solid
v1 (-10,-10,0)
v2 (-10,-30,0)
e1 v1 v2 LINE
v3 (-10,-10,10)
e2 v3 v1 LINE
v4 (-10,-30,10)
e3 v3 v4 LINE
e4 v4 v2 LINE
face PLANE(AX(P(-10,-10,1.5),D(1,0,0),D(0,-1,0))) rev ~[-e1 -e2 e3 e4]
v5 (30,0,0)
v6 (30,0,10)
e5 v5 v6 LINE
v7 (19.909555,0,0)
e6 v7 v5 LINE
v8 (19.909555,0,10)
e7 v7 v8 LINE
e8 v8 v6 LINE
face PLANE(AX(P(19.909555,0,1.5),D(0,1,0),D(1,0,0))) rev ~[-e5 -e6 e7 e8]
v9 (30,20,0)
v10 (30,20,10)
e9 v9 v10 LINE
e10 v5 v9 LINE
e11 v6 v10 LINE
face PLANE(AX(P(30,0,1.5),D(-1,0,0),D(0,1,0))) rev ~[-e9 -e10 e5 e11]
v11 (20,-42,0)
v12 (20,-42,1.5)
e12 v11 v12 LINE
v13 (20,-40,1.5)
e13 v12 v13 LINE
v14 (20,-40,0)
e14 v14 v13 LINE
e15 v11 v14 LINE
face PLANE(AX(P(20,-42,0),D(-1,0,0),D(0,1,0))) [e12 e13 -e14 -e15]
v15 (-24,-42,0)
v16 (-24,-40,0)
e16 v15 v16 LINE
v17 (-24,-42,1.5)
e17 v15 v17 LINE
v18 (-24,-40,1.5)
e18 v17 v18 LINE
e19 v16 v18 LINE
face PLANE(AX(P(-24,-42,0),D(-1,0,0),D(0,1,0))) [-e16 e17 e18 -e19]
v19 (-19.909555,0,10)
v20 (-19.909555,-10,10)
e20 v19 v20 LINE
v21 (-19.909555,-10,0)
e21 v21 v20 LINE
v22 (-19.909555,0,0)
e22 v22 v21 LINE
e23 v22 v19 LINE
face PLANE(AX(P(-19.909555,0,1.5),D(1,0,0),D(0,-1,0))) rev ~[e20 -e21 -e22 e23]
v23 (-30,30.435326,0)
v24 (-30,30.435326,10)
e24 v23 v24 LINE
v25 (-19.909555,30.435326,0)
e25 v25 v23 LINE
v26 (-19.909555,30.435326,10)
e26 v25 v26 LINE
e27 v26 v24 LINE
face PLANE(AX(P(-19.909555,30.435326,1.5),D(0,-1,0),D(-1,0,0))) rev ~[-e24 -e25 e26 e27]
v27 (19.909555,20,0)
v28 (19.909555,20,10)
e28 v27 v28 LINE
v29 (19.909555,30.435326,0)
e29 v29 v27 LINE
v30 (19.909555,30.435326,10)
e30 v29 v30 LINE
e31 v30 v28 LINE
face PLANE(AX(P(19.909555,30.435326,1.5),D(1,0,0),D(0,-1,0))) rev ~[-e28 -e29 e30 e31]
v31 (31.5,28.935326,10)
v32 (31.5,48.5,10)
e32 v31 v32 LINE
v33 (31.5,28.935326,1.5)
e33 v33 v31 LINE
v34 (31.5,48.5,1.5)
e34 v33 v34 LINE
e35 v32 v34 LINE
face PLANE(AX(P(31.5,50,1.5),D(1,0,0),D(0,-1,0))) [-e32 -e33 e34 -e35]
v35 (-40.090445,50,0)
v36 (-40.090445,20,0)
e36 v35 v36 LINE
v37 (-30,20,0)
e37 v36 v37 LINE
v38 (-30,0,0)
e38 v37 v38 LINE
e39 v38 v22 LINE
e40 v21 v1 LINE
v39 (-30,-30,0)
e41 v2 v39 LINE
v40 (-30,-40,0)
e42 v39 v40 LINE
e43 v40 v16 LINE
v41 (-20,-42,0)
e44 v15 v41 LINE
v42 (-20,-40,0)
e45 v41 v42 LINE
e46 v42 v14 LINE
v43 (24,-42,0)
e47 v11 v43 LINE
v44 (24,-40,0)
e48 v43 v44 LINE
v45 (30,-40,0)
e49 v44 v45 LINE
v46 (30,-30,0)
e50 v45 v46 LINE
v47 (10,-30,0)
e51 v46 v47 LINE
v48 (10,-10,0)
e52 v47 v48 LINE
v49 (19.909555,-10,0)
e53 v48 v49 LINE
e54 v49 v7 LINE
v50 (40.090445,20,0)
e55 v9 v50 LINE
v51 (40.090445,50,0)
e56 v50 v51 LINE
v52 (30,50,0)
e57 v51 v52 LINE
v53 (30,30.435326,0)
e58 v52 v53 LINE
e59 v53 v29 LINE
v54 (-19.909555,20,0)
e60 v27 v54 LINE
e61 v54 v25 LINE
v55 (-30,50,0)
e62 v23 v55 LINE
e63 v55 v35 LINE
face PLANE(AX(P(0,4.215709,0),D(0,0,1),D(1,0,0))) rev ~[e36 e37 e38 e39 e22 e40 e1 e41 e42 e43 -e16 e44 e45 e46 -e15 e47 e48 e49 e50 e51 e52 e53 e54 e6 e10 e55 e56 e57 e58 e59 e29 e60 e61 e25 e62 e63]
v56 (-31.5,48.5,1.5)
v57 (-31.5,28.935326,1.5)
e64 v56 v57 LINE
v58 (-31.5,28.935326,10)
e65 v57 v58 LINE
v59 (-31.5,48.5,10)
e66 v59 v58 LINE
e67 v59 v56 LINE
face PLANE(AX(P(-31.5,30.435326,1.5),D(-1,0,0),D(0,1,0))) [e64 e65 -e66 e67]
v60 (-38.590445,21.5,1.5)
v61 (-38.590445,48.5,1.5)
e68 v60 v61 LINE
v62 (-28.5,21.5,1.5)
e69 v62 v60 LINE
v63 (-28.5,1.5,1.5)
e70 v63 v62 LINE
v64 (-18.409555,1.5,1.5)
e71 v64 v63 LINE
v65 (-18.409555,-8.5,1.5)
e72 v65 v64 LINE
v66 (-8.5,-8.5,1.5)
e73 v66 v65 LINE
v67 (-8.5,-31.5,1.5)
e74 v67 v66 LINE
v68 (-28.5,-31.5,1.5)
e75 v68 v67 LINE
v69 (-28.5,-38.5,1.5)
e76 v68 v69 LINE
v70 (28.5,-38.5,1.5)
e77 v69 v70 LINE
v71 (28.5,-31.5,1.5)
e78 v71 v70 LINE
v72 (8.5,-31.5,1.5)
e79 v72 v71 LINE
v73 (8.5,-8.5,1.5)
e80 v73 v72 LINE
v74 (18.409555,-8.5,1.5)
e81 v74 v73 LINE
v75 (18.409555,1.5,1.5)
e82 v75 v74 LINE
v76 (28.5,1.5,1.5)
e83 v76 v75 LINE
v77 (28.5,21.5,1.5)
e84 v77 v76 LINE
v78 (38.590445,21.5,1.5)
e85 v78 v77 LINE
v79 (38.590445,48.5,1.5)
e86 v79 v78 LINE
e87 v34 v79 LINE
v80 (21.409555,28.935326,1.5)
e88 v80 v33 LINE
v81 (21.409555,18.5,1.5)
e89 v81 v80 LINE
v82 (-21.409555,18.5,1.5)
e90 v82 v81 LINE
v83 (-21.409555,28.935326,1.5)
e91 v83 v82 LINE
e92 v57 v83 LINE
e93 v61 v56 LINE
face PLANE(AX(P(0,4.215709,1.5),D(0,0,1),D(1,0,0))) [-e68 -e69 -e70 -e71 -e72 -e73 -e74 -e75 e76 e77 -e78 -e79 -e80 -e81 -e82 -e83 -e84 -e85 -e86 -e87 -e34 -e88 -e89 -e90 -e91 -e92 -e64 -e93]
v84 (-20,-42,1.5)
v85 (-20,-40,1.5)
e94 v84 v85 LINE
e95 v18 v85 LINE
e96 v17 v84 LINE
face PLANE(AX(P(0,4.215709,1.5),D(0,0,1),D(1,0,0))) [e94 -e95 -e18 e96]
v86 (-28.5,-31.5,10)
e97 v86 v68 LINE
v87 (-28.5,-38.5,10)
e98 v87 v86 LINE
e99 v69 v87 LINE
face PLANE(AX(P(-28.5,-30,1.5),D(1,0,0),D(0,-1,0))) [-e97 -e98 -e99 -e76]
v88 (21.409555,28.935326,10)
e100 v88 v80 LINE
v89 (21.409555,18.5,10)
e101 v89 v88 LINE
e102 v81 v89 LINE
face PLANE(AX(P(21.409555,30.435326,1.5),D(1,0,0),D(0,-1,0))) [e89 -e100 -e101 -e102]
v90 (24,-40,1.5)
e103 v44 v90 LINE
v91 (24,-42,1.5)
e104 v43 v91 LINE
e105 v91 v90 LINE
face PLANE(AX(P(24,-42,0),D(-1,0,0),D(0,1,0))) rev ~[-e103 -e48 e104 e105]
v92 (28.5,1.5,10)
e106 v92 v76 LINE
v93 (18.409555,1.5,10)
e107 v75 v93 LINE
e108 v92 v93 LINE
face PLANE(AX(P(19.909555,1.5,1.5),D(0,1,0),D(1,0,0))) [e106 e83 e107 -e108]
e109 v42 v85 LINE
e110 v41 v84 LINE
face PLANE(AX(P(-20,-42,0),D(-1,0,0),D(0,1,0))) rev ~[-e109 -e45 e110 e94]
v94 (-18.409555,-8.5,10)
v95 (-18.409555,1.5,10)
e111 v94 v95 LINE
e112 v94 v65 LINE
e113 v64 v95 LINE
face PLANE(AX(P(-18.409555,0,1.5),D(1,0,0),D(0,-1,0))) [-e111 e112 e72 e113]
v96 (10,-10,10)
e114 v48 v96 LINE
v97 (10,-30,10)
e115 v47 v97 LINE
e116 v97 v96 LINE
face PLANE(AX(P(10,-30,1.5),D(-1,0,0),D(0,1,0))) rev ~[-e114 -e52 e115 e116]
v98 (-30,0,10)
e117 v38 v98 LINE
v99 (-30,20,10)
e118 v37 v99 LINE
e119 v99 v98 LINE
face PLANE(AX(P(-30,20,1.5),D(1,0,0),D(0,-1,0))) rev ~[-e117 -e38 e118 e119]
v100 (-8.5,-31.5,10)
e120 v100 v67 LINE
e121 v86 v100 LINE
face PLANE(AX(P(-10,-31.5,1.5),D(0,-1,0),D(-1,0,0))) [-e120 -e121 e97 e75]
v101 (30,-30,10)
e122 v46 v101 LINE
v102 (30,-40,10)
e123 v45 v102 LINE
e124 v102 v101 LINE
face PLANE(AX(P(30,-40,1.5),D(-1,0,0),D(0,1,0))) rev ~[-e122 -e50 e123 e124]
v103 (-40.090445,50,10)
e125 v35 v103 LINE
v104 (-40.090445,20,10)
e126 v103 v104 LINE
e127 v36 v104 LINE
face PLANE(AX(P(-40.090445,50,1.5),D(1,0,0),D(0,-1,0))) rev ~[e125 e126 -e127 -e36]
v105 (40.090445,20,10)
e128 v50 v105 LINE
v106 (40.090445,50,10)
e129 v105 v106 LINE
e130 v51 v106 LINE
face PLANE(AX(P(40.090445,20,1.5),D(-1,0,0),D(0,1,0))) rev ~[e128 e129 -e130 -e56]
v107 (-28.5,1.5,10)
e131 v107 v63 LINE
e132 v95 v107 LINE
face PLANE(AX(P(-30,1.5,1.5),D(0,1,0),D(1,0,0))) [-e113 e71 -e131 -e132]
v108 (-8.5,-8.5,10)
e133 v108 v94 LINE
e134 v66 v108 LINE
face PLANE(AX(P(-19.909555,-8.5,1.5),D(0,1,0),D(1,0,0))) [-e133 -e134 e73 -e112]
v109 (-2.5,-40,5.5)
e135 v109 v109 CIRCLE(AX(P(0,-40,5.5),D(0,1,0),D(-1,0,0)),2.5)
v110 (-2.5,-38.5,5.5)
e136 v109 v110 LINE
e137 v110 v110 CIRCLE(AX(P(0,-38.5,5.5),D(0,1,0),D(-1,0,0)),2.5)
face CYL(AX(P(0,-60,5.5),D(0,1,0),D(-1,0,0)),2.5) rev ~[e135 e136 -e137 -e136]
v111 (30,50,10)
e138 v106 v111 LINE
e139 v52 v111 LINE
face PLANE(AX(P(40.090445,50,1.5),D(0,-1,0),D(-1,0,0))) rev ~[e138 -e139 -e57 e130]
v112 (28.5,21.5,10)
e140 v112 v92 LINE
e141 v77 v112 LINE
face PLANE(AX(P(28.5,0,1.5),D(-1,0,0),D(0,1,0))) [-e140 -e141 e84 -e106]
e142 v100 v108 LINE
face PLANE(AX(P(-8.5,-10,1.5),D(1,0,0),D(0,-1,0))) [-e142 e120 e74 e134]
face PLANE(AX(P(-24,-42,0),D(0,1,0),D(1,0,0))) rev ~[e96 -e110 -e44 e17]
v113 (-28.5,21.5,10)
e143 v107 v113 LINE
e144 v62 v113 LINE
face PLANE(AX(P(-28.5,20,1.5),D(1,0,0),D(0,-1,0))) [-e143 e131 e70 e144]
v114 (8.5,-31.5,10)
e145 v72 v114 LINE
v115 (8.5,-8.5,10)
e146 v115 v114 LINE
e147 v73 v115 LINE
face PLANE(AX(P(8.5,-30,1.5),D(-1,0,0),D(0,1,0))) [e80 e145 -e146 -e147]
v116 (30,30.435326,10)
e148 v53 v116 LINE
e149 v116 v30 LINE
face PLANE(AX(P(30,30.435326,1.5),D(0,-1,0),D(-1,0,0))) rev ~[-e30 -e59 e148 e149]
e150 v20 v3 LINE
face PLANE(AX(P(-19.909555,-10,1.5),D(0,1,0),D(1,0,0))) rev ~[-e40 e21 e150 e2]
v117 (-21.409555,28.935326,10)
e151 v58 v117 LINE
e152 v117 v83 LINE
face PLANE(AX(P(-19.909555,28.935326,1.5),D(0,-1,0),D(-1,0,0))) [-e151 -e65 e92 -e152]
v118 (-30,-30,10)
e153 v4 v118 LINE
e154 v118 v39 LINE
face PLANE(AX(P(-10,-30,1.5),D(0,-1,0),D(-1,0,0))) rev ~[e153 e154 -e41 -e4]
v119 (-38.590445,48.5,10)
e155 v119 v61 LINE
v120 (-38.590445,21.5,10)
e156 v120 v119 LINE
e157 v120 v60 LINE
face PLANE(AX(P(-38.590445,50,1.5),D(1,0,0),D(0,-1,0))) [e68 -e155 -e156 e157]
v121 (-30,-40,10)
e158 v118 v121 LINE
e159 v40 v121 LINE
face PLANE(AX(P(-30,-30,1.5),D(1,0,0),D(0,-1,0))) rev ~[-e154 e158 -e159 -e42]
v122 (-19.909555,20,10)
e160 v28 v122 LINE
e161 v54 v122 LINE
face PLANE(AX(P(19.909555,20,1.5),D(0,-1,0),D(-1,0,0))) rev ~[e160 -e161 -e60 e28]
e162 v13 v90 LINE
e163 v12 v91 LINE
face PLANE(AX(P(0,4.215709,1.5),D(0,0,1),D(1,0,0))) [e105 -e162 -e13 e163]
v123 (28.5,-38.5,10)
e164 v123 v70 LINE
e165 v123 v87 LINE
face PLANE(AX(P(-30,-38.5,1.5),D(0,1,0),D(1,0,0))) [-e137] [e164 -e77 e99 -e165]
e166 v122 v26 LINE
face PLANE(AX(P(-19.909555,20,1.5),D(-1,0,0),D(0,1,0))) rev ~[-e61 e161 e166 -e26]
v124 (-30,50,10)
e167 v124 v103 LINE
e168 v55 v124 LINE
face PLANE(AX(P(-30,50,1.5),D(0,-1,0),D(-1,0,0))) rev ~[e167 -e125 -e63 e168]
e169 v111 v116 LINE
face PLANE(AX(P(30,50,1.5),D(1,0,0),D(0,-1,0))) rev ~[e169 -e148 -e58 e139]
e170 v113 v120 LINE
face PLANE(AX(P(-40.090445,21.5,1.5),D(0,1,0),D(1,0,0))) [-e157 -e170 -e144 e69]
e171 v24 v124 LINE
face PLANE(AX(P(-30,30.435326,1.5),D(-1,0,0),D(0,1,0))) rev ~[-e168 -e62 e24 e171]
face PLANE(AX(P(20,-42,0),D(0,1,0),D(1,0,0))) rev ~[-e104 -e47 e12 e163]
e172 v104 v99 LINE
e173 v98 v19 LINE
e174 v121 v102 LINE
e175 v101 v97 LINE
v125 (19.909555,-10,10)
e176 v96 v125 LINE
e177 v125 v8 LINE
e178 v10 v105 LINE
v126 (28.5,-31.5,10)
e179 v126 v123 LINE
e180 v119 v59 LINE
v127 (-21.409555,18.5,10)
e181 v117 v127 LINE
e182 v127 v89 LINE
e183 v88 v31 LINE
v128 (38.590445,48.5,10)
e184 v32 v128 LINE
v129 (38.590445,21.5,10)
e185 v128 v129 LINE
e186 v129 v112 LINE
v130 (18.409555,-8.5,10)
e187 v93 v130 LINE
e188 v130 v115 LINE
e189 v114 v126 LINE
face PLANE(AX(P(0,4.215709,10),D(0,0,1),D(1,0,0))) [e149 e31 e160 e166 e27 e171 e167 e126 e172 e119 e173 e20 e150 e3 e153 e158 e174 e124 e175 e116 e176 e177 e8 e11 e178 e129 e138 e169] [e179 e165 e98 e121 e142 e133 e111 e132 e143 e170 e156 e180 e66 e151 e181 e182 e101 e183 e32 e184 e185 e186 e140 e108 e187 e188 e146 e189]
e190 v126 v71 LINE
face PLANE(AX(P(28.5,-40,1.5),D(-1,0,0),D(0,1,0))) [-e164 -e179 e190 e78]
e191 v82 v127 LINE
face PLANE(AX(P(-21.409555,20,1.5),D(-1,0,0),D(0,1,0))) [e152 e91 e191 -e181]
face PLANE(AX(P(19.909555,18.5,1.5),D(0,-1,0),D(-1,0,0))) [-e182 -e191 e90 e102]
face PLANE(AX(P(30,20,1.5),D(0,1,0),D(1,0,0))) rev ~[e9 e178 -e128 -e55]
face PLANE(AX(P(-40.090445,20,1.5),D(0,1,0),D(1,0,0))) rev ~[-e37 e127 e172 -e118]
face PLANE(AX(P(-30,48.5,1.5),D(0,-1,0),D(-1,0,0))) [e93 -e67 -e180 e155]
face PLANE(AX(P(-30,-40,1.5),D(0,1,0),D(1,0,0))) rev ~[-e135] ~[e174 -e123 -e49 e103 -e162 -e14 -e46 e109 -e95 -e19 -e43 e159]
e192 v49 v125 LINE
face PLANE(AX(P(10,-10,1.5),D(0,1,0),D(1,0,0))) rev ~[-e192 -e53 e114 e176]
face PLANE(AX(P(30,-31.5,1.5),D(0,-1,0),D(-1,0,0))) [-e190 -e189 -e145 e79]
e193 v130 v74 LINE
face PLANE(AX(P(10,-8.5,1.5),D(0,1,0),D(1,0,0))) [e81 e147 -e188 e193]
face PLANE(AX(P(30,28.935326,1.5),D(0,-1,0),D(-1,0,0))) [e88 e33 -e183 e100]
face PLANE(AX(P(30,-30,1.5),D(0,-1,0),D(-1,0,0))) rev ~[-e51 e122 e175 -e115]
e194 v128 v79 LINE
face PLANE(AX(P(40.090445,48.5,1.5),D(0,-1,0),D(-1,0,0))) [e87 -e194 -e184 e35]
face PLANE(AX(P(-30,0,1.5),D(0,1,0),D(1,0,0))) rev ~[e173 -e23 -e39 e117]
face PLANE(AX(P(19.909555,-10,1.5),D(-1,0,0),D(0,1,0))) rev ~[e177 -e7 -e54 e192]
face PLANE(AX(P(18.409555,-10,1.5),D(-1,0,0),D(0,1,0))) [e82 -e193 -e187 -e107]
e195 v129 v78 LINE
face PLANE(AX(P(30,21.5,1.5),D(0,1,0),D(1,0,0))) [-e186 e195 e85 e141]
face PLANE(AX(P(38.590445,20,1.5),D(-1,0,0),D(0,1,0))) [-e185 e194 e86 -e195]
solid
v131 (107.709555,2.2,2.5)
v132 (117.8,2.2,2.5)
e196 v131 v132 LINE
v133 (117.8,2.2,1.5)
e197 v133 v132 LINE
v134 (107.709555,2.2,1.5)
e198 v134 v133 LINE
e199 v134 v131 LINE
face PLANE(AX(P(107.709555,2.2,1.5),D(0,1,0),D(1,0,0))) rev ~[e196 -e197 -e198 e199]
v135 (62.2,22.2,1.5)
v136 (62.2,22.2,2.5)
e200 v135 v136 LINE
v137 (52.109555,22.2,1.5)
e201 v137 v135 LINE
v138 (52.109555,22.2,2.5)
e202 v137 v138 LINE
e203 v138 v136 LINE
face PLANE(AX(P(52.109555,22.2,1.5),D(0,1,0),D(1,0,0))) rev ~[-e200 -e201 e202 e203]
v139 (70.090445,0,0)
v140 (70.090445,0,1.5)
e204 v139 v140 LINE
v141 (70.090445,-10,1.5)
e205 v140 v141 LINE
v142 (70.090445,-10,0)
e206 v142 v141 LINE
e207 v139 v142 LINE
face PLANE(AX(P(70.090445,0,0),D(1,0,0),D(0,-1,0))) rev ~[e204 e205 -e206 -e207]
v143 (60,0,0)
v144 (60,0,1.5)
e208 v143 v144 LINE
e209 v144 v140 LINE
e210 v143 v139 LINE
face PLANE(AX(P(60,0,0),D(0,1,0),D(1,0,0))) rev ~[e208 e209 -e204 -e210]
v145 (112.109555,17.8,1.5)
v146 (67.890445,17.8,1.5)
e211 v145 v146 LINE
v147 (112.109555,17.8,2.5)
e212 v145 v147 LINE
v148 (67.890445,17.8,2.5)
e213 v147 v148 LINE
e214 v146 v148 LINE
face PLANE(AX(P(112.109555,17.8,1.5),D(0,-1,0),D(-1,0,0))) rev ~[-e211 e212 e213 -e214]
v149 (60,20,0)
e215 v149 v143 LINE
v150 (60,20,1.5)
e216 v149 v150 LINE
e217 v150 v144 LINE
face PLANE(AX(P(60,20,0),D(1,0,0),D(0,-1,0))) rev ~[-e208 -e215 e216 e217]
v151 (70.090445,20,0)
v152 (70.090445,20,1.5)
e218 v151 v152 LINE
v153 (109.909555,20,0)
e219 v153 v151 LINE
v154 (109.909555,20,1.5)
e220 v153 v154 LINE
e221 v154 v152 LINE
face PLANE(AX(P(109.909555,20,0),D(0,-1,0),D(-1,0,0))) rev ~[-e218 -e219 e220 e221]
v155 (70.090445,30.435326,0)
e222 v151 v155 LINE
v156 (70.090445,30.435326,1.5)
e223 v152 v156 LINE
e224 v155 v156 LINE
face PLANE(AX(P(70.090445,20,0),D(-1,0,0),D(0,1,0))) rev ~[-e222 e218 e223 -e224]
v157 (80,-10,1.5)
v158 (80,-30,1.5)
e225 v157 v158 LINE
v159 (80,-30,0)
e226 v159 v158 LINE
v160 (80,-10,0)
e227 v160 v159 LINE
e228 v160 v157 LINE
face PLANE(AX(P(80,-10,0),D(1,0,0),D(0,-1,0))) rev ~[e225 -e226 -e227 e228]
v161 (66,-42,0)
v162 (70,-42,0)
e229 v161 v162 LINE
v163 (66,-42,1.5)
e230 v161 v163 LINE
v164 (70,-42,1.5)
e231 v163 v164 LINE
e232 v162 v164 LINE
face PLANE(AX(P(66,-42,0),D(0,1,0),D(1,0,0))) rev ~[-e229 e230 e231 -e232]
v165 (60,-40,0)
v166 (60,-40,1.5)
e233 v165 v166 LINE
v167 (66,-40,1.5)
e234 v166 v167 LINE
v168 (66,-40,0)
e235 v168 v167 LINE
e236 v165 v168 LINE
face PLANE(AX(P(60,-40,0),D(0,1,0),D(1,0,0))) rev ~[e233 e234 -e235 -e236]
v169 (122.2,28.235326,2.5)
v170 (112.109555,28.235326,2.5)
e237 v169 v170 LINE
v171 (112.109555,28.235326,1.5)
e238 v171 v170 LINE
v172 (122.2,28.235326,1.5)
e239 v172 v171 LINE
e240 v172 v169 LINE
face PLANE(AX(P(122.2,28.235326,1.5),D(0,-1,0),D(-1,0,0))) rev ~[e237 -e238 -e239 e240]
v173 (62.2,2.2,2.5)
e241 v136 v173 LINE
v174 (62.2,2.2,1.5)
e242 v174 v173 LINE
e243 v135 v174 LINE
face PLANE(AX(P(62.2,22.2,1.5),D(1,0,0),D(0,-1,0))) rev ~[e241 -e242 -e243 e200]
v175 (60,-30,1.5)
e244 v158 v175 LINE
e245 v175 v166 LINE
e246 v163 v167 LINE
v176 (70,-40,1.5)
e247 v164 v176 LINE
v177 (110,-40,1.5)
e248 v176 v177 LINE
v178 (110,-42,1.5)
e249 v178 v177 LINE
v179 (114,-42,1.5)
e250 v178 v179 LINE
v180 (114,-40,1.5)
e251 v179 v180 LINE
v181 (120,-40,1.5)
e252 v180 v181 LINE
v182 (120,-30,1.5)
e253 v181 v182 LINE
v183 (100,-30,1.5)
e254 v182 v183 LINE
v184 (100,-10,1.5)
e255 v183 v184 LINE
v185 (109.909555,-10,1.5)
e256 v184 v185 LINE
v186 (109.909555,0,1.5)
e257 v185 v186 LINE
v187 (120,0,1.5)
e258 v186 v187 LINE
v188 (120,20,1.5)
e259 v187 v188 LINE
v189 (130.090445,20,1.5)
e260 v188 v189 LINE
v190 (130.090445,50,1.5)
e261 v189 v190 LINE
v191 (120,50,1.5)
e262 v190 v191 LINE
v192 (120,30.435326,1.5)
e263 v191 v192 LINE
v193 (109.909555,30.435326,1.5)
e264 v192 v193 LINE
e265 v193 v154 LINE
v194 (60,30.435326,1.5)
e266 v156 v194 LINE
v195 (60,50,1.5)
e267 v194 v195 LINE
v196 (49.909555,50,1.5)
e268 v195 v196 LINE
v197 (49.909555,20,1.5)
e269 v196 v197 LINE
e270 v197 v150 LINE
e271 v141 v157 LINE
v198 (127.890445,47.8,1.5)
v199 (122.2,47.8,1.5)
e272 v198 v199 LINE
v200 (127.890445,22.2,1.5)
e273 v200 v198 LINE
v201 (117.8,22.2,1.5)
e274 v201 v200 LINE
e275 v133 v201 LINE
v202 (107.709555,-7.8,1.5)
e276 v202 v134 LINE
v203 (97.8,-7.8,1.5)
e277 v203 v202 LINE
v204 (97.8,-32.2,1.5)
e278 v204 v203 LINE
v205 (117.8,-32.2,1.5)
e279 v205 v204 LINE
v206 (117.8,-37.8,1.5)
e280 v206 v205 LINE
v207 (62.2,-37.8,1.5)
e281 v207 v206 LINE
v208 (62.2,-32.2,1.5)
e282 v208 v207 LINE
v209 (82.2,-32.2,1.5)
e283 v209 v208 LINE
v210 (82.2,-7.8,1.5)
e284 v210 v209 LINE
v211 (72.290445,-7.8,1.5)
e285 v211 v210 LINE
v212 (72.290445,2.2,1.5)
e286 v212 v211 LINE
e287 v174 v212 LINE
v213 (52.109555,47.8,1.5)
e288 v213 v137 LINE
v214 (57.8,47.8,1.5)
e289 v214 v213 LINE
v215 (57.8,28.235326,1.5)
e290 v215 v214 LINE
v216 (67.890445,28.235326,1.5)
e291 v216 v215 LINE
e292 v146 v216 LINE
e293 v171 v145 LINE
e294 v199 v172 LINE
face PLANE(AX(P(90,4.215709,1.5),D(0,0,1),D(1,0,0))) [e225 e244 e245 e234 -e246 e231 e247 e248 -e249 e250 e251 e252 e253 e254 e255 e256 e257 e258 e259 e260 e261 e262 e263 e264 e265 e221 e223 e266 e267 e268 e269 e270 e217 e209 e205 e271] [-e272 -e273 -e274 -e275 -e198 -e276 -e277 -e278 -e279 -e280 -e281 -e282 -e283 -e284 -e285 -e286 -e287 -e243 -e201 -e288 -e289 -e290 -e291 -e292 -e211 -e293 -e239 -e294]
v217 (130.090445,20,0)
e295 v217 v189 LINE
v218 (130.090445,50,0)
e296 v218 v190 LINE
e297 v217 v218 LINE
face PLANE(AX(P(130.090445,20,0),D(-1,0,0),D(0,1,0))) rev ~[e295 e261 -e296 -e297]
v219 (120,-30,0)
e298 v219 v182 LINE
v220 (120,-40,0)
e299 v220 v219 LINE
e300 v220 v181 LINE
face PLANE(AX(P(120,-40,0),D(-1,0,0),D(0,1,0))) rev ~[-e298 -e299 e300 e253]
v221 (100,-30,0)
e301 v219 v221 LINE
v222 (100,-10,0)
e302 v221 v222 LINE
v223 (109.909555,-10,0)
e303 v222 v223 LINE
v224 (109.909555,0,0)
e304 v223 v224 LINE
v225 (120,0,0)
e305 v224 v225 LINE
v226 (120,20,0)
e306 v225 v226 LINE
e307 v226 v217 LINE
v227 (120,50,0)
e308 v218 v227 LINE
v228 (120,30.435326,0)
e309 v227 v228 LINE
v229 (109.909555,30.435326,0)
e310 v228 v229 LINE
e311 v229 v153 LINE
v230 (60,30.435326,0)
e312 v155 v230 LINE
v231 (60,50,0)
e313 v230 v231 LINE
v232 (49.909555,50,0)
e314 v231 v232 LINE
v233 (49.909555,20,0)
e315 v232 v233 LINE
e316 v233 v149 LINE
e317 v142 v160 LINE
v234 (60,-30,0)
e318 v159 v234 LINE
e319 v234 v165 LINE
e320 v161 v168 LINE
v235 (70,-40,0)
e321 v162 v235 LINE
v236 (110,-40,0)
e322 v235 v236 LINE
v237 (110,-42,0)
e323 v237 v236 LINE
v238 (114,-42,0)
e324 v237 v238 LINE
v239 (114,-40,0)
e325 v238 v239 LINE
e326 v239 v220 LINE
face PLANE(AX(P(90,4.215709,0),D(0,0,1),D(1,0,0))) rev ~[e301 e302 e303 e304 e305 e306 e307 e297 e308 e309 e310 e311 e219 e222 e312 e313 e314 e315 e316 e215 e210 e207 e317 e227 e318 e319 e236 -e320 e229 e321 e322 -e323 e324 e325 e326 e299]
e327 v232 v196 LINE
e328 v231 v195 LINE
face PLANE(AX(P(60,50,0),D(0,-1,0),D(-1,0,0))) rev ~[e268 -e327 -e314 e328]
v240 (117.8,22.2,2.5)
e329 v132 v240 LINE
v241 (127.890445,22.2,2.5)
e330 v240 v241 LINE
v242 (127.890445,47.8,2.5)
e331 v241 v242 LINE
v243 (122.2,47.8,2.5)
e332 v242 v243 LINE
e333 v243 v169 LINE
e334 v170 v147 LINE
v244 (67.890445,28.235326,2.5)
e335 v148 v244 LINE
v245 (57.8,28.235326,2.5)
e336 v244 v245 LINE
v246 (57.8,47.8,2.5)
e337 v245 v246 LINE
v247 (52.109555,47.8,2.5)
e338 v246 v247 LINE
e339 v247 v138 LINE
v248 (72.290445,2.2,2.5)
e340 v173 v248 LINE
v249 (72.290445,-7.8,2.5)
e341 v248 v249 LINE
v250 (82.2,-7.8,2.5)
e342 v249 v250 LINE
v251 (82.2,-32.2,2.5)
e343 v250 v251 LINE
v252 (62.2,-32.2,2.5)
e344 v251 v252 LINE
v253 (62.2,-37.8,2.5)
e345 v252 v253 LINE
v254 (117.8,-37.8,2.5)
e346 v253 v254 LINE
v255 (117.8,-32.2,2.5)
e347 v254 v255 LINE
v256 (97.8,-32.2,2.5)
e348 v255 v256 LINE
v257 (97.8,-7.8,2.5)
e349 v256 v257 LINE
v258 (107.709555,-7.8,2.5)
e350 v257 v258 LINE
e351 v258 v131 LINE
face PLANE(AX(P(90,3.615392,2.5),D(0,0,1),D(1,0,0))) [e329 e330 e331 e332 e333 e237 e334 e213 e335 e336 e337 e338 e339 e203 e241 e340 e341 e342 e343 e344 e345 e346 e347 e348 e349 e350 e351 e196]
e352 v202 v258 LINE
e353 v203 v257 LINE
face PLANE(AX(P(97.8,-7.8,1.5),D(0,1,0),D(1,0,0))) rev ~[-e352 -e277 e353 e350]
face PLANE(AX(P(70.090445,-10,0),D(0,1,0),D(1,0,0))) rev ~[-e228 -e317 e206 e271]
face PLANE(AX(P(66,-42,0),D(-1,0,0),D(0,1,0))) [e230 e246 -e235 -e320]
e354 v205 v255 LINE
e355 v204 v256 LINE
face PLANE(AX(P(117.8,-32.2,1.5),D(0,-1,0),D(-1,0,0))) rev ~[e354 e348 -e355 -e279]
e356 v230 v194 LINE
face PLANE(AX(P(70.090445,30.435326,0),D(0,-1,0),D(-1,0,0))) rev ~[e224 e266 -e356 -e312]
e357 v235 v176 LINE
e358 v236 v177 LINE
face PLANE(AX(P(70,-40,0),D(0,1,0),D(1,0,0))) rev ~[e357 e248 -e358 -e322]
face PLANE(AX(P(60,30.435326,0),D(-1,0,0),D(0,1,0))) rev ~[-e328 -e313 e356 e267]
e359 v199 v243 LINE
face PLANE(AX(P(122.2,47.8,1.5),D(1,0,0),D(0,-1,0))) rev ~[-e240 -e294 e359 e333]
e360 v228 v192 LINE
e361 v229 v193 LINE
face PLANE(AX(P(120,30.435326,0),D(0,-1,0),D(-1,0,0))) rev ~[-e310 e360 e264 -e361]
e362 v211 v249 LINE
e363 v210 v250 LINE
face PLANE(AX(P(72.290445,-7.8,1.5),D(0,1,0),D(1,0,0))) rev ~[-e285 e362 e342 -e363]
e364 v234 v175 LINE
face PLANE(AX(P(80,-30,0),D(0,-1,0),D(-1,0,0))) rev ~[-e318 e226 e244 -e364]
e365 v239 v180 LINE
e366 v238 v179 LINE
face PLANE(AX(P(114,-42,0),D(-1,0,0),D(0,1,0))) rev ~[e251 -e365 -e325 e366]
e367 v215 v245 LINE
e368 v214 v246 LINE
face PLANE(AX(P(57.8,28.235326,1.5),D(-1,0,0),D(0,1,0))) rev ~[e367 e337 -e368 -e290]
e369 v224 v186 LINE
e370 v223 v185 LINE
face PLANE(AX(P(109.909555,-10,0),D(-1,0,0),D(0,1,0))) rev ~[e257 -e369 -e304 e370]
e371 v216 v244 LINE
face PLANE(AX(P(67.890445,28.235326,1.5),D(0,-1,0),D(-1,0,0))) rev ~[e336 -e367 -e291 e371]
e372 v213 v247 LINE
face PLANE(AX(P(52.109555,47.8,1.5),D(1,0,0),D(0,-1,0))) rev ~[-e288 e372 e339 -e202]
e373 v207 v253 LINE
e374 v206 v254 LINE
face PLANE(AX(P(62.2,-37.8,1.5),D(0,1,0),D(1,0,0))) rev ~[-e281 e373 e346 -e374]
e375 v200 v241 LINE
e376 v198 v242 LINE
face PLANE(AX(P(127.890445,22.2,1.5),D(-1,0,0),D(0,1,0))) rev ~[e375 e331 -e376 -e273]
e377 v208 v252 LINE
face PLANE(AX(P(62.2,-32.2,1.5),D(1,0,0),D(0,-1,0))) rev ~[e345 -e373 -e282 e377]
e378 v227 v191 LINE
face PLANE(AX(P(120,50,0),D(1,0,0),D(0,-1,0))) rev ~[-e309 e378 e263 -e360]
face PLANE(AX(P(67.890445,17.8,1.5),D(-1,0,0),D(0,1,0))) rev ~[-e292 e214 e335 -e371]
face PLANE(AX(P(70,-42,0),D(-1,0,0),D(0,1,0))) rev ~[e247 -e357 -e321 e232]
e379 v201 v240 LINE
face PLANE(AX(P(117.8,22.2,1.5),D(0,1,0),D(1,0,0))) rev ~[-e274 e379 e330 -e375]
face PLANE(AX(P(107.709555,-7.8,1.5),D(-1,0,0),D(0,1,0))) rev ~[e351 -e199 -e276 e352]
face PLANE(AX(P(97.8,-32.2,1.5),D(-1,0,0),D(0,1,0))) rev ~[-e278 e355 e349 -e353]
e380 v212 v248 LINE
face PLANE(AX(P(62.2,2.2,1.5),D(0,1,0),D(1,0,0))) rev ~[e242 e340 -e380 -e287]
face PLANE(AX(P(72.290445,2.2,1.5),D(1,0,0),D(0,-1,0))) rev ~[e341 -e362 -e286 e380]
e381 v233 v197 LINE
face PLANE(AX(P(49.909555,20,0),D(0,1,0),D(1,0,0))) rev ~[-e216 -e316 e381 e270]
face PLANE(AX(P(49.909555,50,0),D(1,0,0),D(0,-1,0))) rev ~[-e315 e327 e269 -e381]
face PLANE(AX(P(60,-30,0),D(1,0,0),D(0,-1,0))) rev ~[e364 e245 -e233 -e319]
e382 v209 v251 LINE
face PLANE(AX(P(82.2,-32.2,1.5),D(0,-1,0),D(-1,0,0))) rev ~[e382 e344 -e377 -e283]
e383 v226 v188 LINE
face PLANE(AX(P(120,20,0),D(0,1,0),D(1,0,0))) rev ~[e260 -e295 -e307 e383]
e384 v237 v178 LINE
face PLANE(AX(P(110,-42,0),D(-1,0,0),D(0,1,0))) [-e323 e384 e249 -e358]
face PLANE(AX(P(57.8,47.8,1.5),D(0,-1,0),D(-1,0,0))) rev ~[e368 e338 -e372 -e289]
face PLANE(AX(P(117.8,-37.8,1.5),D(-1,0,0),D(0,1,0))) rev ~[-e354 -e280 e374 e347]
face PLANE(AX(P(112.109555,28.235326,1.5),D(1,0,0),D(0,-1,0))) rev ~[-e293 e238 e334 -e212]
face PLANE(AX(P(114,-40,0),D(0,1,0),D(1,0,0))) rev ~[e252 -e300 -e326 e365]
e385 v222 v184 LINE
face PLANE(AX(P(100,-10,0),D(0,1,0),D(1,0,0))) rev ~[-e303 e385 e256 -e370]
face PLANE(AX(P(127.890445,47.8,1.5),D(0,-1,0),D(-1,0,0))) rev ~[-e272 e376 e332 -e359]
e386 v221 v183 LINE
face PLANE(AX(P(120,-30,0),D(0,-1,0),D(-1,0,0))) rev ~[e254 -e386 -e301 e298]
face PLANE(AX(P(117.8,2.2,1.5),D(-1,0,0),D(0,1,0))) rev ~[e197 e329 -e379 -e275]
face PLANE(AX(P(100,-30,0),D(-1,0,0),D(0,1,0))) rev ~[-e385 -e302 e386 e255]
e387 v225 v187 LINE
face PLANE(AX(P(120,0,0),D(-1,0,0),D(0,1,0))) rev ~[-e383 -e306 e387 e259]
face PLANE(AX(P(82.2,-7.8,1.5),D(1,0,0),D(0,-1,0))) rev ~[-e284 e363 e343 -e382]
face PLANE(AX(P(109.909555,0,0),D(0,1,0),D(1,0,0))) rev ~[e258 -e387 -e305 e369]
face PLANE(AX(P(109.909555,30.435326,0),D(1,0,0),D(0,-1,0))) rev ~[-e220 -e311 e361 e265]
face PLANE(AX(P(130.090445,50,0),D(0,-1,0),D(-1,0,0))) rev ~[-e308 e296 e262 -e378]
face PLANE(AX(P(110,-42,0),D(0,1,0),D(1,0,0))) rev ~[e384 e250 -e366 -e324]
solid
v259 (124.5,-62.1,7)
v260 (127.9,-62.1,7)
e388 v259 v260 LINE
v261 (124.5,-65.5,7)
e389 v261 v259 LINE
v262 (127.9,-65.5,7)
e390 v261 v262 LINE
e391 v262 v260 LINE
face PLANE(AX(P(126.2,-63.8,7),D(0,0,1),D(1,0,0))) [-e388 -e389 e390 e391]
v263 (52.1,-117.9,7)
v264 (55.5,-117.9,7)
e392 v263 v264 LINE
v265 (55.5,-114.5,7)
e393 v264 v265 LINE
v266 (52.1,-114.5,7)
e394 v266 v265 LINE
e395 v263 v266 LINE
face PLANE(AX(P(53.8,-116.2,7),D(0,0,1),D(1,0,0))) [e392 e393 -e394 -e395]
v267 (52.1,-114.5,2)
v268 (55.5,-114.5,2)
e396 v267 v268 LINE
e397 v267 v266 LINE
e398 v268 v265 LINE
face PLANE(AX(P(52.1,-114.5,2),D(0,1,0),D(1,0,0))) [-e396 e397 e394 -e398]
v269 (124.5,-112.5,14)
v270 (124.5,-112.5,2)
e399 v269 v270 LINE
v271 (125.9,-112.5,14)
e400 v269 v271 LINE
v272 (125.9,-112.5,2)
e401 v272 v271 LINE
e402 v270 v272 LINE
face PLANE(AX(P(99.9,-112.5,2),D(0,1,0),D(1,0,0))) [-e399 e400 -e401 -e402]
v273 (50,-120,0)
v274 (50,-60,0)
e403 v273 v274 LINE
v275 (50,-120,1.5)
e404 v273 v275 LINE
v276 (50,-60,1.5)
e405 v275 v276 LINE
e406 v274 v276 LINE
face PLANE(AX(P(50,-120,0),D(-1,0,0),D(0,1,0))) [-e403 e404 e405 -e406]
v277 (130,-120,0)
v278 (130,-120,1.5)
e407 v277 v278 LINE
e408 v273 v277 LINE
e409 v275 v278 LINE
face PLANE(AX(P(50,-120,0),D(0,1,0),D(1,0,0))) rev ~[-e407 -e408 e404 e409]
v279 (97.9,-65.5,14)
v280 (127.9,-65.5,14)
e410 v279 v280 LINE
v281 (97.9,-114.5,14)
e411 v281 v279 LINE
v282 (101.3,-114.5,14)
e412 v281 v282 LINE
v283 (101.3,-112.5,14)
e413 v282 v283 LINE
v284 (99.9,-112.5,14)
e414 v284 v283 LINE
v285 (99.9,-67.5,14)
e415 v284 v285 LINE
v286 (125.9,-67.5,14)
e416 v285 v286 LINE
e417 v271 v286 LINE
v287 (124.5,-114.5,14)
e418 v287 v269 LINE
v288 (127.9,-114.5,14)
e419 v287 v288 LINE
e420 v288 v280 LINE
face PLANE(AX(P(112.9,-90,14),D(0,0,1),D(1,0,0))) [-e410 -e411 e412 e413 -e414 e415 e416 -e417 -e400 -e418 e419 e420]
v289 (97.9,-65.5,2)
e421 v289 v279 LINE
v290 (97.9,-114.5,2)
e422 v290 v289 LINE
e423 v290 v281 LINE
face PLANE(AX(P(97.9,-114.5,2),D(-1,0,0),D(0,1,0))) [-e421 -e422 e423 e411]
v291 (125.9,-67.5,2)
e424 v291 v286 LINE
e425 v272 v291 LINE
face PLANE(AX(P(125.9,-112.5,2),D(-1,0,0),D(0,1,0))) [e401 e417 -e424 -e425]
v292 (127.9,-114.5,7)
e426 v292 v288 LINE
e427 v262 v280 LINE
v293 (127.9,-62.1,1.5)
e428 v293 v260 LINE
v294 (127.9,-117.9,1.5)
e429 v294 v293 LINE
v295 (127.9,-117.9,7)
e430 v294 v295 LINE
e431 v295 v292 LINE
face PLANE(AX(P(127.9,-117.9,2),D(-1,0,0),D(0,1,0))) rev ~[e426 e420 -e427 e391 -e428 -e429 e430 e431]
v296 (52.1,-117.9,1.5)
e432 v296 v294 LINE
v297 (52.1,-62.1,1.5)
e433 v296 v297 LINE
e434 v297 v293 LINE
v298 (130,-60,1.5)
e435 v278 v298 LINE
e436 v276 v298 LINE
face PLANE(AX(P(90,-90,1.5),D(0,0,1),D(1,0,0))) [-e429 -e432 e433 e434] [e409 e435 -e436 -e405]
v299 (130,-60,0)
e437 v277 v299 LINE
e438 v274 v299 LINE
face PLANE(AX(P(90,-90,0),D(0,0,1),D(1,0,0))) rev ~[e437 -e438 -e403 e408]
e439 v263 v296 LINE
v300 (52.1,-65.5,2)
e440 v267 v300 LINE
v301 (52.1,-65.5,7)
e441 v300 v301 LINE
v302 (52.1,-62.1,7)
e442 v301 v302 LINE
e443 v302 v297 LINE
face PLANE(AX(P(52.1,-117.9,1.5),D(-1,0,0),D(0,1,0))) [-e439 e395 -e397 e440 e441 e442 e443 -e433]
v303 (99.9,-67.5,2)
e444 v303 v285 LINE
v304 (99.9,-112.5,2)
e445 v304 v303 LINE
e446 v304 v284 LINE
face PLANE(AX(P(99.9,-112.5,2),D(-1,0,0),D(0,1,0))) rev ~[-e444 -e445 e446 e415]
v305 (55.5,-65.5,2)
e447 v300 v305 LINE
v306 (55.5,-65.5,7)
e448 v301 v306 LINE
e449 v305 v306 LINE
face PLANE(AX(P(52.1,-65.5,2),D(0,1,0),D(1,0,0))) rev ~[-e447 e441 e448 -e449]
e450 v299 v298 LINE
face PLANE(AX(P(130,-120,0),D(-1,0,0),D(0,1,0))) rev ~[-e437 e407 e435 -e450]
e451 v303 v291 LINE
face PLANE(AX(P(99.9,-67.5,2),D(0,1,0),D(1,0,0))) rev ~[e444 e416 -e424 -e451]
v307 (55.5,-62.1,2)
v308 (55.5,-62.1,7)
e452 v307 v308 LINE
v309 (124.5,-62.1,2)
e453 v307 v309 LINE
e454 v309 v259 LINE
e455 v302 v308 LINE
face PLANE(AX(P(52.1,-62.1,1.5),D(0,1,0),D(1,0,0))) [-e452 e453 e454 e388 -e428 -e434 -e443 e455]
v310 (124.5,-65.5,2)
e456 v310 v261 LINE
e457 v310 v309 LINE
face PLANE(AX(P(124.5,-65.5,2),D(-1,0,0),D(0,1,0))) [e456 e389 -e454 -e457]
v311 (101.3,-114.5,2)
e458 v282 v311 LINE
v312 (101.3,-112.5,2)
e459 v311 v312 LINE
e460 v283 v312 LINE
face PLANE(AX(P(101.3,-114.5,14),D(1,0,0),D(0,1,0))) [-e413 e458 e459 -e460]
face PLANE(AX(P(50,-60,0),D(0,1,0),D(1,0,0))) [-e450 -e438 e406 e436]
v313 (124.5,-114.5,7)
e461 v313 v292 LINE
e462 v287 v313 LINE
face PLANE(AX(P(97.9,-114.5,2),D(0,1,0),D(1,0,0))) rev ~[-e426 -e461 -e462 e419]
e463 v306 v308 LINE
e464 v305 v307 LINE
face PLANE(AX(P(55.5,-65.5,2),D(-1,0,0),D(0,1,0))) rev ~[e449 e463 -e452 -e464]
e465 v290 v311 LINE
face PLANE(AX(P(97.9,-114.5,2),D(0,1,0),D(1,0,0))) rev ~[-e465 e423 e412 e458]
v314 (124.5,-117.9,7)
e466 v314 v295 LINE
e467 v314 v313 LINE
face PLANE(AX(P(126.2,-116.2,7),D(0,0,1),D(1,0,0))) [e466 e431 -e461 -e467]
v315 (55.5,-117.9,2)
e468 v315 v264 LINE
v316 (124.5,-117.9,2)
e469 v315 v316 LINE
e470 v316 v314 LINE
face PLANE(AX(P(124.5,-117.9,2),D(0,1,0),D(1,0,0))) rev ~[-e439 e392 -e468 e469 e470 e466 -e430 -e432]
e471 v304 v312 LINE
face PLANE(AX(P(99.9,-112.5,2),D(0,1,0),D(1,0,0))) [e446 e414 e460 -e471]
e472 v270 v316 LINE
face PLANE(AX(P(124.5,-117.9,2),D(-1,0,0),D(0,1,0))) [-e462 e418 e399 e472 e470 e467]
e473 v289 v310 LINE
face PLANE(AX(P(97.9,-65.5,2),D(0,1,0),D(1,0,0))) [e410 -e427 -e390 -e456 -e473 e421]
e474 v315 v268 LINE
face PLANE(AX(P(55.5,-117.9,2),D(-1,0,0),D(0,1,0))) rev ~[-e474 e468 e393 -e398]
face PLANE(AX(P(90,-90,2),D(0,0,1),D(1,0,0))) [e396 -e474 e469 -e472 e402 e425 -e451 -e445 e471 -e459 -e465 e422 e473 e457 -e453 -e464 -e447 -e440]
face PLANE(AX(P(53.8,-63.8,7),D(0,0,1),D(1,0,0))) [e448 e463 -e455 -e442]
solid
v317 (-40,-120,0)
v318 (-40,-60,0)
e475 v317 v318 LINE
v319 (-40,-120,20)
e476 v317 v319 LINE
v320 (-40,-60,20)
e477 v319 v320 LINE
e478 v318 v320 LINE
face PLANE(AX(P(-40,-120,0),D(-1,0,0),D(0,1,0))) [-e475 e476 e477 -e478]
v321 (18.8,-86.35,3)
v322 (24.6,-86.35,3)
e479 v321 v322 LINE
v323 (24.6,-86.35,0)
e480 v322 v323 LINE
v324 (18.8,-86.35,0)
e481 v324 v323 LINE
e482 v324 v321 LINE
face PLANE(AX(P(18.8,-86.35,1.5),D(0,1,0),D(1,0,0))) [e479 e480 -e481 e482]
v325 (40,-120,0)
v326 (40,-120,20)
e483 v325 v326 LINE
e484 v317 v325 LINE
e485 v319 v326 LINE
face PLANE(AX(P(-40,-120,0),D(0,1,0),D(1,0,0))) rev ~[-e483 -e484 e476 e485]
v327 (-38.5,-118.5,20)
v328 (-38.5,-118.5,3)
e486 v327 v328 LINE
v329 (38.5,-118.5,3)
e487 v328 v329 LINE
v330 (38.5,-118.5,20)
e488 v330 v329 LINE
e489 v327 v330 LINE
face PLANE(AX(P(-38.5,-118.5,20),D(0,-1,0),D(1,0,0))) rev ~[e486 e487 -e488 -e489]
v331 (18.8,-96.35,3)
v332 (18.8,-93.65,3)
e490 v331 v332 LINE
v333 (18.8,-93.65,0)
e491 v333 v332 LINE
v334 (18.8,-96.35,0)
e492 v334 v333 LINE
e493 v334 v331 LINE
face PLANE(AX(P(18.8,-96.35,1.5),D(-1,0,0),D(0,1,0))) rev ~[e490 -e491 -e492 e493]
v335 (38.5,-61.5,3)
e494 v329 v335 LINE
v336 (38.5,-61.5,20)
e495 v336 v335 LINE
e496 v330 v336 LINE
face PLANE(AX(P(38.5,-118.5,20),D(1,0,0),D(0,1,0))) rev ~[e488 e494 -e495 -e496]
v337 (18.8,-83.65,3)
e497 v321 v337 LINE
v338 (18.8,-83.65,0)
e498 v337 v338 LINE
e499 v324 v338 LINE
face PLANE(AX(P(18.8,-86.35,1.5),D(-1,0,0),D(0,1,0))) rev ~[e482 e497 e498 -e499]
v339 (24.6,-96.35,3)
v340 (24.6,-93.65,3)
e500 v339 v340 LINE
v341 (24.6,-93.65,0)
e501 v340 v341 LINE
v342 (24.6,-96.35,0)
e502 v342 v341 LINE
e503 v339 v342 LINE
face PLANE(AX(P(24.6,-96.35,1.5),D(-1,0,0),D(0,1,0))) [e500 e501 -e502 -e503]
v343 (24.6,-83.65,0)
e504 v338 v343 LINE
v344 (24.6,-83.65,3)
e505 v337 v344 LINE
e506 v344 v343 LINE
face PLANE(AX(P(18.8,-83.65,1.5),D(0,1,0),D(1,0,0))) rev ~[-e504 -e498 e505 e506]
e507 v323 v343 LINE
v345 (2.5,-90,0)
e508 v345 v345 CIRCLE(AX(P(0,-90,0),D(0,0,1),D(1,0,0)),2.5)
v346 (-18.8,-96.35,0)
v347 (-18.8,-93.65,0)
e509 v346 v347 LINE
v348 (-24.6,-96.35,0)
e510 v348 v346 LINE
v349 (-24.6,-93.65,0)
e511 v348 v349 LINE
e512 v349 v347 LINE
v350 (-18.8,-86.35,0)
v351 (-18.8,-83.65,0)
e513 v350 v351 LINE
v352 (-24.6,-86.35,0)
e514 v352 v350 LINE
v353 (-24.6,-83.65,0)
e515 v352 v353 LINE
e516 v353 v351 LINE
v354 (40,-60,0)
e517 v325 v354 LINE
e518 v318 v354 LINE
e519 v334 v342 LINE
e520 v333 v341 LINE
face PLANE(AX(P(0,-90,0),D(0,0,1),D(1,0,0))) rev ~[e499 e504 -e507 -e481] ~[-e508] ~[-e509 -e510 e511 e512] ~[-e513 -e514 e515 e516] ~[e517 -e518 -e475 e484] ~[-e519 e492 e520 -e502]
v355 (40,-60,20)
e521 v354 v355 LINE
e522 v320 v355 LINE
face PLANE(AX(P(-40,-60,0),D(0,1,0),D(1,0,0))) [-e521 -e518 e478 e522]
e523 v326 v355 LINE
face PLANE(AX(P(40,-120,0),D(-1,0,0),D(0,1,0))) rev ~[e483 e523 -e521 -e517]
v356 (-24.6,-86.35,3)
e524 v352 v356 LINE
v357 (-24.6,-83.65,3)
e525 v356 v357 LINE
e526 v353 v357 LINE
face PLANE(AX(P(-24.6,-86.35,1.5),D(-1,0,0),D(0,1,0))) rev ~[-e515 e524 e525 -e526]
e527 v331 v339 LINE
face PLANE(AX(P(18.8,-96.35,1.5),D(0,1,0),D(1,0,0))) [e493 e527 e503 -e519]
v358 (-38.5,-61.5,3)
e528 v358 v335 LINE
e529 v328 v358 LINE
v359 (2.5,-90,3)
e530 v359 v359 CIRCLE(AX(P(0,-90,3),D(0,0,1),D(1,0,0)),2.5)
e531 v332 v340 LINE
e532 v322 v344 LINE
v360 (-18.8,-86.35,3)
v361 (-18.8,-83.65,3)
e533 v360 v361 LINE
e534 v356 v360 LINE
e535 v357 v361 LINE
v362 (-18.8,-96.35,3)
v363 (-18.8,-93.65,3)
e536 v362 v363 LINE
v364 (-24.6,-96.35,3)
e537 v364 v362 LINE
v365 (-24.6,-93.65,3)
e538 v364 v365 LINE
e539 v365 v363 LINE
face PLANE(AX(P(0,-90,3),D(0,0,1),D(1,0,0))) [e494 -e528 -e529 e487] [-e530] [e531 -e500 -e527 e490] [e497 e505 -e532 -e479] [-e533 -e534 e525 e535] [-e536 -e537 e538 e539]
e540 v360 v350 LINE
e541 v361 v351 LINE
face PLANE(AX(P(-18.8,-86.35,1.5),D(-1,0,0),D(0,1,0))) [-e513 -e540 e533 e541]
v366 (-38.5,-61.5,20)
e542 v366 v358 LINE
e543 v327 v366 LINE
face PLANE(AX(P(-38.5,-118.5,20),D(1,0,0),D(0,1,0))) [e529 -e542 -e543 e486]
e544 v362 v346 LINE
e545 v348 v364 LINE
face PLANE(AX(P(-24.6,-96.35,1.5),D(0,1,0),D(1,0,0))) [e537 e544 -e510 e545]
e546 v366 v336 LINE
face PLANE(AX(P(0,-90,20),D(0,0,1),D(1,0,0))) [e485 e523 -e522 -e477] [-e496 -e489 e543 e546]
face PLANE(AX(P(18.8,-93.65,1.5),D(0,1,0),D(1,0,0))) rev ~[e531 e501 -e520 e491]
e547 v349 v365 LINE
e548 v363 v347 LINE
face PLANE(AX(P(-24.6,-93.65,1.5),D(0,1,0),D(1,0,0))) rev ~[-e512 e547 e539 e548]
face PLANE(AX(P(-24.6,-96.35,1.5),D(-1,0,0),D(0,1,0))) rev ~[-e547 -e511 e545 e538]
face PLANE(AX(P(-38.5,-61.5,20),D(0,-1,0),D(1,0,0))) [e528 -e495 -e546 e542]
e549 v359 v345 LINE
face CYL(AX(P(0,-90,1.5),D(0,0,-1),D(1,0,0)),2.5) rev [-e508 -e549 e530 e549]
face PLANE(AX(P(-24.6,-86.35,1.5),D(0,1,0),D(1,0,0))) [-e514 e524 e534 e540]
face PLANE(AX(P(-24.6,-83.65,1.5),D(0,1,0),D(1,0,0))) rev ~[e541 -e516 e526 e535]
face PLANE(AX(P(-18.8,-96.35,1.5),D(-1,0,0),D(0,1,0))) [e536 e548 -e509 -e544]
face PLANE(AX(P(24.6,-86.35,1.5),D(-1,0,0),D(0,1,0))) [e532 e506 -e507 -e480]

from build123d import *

# Parameters (mm, degrees)
F0_W                       = 4
F0_H                       = 2
F1_DEPTH                   = 1.5
F4_DEPTH                   = 8.5
F5_T                       = -1.5
F7_D                       = 5
F7_DEPTH                   = 20
F7_TIP                     = 1.5021515476
F9_DEPTH                   = 1
F10_W                      = 80
F10_H                      = 60
F10_W_2                    = 5.8
F10_H_2                    = 2.7
F10_R                      = 2.5
F11_DEPTH                  = 20
F12_W                      = 77
F12_H                      = 57
F13_DEPTH                  = 18.5
FPH8DFIFHSPQ4S0_2_FACE_W   = 77
FPH8DFIFHSPQ4S0_2_FACE_H   = 57
FPH8DFIFHSPQ4S0_2_FACE_W_2 = 5.8
FPH8DFIFHSPQ4S0_2_FACE_H_2 = 2.7
FPH8DFIFHSPQ4S0_2_FACE_R   = 2.5
F14_W                      = 80
F14_H                      = 60
F15_DEPTH                  = 1.5
F16_W                      = 75.8
F16_H                      = 55.8
F17_DEPTH                  = 0.5
F18_W                      = 30
F18_H                      = 49
F18_W_2                    = 26
F18_H_2                    = 45
F19_DEPTH                  = 12
F21_W                      = 23.2
F21_H                      = 2
F22_DEPTH                  = 12
F20_W                      = 3.4
F20_H                      = 3.4
F23_DEPTH                  = 5


with BuildPart() as f1:
    # F0 (on Top) → F1 (new body)
    with BuildSketch(Plane.XY):
        Polygon((-30, -30), (-30, -40), (-24, -40), (-20, -40), (20, -40), (24, -40), (30, -40), (30, -30), (10, -30), (10, -10), (19.9095545709, -10), (19.9095545709, 0), (30, 0), (30, 20), (40.0904454291, 20), (40.0904454291, 50), (30, 50), (30, 30.4353255779), (19.9095545709, 30.4353255779), (19.9095545709, 20), (-19.9095545709, 20), (-19.9095545709, 30.4353255779), (-30, 30.4353255779), (-30, 50), (-40.0904454291, 50), (-40.0904454291, 20), (-30, 20), (-30, 0), (-19.9095545709, 0), (-19.9095545709, -10), (-10, -10), (-10, -30), align=None)
        with Locations((-22, -41)):
            Rectangle(F0_W, F0_H)
        with Locations((22, -41)):
            Rectangle(F0_W, F0_H)
    extrude(amount=F1_DEPTH)


with BuildPart() as f2_1:
    # F2: copy of F1
    add(f1.part.moved(Location((90, 0, 0))))

    # F8 (on face) → F9 (join)
    with BuildSketch(Plane.XY.offset(1.5)):
        Polygon((62.2, -32.2), (62.2, -37.8), (117.8, -37.8), (117.8, -32.2), (97.8, -32.2), (97.8, -7.8), (107.7095545709, -7.8), (107.7095545709, 2.2), (117.8, 2.2), (117.8, 22.2), (127.8904454291, 22.2), (127.8904454291, 47.8), (122.2, 47.8), (122.2, 28.2353255779), (112.1095545709, 28.2353255779), (112.1095545709, 17.8), (67.8904454291, 17.8), (67.8904454291, 28.2353255779), (57.8, 28.2353255779), (57.8, 47.8), (52.1095545709, 47.8), (52.1095545709, 22.2), (62.2, 22.2), (62.2, 2.2), (72.2904454291, 2.2), (72.2904454291, -7.8), (82.2, -7.8), (82.2, -32.2), align=None)
    extrude(amount=F9_DEPTH)


with BuildPart() as f1_1:
    add(f1.part)

    # F3 (on face) → F4 (join)
    with BuildSketch(Plane.XY.offset(1.5)):
        Polygon((-30, -30), (-30, -40), (-24, -40), (-20, -40), (20, -40), (24, -40), (30, -40), (30, -30), (10, -30), (10, -10), (19.9095545709, -10), (19.9095545709, 0), (30, 0), (30, 20), (40.0904454291, 20), (40.0904454291, 50), (30, 50), (30, 30.4353255779), (19.9095545709, 30.4353255779), (19.9095545709, 20), (-19.9095545709, 20), (-19.9095545709, 30.4353255779), (-30, 30.4353255779), (-30, 50), (-40.0904454291, 50), (-40.0904454291, 20), (-30, 20), (-30, 0), (-19.9095545709, 0), (-19.9095545709, -10), (-10, -10), (-10, -30), align=None)
    extrude(amount=F4_DEPTH)

    # F5
    f5_openings = [f1_1.faces().sort_by_distance(p)[0] for p in [
        (0, 2.199533, 10),
    ]]
    offset(amount=F5_T, openings=f5_openings, kind=Kind.INTERSECTION)

    # F7
    with Locations(Plane.XZ.offset(40)):
        with Locations((0, 5.5)):
            Hole(F7_D / 2, depth=F7_DEPTH)
            with Locations((0, 0, -(F7_DEPTH + F7_TIP / 2))):  # 118° drill point
                Cone(0, F7_D / 2, F7_TIP, mode=Mode.SUBTRACT)


with BuildPart() as f11:
    # F10 (on Top) → F11 (new body)
    with BuildSketch(Plane.XY):
        with Locations((0, -90)):
            Rectangle(F10_W, F10_H)
        with Locations((-21.7, -95)):
            Rectangle(F10_W_2, F10_H_2, mode=Mode.SUBTRACT)
        with Locations((21.7, -95)):
            Rectangle(F10_W_2, F10_H_2, mode=Mode.SUBTRACT)
        with Locations((-21.7, -85)):
            Rectangle(F10_W_2, F10_H_2, mode=Mode.SUBTRACT)
        with Locations((0, -90)):
            Circle(F10_R, mode=Mode.SUBTRACT)
        with Locations((21.7, -85)):
            Rectangle(F10_W_2, F10_H_2, mode=Mode.SUBTRACT)
    extrude(amount=F11_DEPTH)

    # F12 (on face) → F13 (cut)
    with BuildSketch(Plane.XY.offset(20)):
        with Locations((0, -90)):
            Rectangle(F12_W, F12_H)
    extrude(amount=-F13_DEPTH, mode=Mode.SUBTRACT)

    # FpH8dFIfhSpq4S0_2_face (on face) + F14 (on Top) → F15 (join)
    with BuildSketch(Plane(origin=(0, -90, 1.5), x_dir=(1, 0, 0), z_dir=(0, 0, 1))):
        Rectangle(FPH8DFIFHSPQ4S0_2_FACE_W, FPH8DFIFHSPQ4S0_2_FACE_H)
        with Locations((-21.7, -5)):
            Rectangle(FPH8DFIFHSPQ4S0_2_FACE_W_2, FPH8DFIFHSPQ4S0_2_FACE_H_2, mode=Mode.SUBTRACT)
        with Locations((21.7, -5)):
            Rectangle(FPH8DFIFHSPQ4S0_2_FACE_W_2, FPH8DFIFHSPQ4S0_2_FACE_H_2, mode=Mode.SUBTRACT)
        with Locations((-21.7, 5)):
            Rectangle(FPH8DFIFHSPQ4S0_2_FACE_W_2, FPH8DFIFHSPQ4S0_2_FACE_H_2, mode=Mode.SUBTRACT)
        Circle(FPH8DFIFHSPQ4S0_2_FACE_R, mode=Mode.SUBTRACT)
        with Locations((21.7, 5)):
            Rectangle(FPH8DFIFHSPQ4S0_2_FACE_W_2, FPH8DFIFHSPQ4S0_2_FACE_H_2, mode=Mode.SUBTRACT)
    with BuildSketch(Plane.XY):
        with Locations((90, -90)):
            Rectangle(F14_W, F14_H)
    extrude(amount=F15_DEPTH)

    # F16 (on face) → F17 (join)
    with BuildSketch(Plane.XY.offset(1.5)):
        with Locations((90, -90)):
            Rectangle(F16_W, F16_H)
    extrude(amount=F17_DEPTH)

    # F18 (on face) → F19 (join)
    with BuildSketch(Plane.XY.offset(2)):
        with Locations((112.9, -90)):
            Rectangle(F18_W, F18_H)
        with Locations((112.9, -90)):
            Rectangle(F18_W_2, F18_H_2, mode=Mode.SUBTRACT)
    extrude(amount=F19_DEPTH)

    # F21 (on face) → F22 (cut)
    with BuildSketch(Plane.XY.offset(14)):
        with Locations((112.9, -113.5)):
            Rectangle(F21_W, F21_H)
    extrude(amount=-F22_DEPTH, mode=Mode.SUBTRACT)

    # F20 (on face) → F23 (join)
    with BuildSketch(Plane.XY.offset(2)):
        with Locations((126.2, -116.2)):
            Rectangle(F20_W, F20_H)
        with Locations((126.2, -63.8)):
            Rectangle(F20_W, F20_H)
        with Locations((53.8, -63.8)):
            Rectangle(F20_W, F20_H)
        with Locations((53.8, -116.2)):
            Rectangle(F20_W, F20_H)
    extrude(amount=F23_DEPTH)


solid = Compound([f2_1.part, f1_1.part, f11.part])
